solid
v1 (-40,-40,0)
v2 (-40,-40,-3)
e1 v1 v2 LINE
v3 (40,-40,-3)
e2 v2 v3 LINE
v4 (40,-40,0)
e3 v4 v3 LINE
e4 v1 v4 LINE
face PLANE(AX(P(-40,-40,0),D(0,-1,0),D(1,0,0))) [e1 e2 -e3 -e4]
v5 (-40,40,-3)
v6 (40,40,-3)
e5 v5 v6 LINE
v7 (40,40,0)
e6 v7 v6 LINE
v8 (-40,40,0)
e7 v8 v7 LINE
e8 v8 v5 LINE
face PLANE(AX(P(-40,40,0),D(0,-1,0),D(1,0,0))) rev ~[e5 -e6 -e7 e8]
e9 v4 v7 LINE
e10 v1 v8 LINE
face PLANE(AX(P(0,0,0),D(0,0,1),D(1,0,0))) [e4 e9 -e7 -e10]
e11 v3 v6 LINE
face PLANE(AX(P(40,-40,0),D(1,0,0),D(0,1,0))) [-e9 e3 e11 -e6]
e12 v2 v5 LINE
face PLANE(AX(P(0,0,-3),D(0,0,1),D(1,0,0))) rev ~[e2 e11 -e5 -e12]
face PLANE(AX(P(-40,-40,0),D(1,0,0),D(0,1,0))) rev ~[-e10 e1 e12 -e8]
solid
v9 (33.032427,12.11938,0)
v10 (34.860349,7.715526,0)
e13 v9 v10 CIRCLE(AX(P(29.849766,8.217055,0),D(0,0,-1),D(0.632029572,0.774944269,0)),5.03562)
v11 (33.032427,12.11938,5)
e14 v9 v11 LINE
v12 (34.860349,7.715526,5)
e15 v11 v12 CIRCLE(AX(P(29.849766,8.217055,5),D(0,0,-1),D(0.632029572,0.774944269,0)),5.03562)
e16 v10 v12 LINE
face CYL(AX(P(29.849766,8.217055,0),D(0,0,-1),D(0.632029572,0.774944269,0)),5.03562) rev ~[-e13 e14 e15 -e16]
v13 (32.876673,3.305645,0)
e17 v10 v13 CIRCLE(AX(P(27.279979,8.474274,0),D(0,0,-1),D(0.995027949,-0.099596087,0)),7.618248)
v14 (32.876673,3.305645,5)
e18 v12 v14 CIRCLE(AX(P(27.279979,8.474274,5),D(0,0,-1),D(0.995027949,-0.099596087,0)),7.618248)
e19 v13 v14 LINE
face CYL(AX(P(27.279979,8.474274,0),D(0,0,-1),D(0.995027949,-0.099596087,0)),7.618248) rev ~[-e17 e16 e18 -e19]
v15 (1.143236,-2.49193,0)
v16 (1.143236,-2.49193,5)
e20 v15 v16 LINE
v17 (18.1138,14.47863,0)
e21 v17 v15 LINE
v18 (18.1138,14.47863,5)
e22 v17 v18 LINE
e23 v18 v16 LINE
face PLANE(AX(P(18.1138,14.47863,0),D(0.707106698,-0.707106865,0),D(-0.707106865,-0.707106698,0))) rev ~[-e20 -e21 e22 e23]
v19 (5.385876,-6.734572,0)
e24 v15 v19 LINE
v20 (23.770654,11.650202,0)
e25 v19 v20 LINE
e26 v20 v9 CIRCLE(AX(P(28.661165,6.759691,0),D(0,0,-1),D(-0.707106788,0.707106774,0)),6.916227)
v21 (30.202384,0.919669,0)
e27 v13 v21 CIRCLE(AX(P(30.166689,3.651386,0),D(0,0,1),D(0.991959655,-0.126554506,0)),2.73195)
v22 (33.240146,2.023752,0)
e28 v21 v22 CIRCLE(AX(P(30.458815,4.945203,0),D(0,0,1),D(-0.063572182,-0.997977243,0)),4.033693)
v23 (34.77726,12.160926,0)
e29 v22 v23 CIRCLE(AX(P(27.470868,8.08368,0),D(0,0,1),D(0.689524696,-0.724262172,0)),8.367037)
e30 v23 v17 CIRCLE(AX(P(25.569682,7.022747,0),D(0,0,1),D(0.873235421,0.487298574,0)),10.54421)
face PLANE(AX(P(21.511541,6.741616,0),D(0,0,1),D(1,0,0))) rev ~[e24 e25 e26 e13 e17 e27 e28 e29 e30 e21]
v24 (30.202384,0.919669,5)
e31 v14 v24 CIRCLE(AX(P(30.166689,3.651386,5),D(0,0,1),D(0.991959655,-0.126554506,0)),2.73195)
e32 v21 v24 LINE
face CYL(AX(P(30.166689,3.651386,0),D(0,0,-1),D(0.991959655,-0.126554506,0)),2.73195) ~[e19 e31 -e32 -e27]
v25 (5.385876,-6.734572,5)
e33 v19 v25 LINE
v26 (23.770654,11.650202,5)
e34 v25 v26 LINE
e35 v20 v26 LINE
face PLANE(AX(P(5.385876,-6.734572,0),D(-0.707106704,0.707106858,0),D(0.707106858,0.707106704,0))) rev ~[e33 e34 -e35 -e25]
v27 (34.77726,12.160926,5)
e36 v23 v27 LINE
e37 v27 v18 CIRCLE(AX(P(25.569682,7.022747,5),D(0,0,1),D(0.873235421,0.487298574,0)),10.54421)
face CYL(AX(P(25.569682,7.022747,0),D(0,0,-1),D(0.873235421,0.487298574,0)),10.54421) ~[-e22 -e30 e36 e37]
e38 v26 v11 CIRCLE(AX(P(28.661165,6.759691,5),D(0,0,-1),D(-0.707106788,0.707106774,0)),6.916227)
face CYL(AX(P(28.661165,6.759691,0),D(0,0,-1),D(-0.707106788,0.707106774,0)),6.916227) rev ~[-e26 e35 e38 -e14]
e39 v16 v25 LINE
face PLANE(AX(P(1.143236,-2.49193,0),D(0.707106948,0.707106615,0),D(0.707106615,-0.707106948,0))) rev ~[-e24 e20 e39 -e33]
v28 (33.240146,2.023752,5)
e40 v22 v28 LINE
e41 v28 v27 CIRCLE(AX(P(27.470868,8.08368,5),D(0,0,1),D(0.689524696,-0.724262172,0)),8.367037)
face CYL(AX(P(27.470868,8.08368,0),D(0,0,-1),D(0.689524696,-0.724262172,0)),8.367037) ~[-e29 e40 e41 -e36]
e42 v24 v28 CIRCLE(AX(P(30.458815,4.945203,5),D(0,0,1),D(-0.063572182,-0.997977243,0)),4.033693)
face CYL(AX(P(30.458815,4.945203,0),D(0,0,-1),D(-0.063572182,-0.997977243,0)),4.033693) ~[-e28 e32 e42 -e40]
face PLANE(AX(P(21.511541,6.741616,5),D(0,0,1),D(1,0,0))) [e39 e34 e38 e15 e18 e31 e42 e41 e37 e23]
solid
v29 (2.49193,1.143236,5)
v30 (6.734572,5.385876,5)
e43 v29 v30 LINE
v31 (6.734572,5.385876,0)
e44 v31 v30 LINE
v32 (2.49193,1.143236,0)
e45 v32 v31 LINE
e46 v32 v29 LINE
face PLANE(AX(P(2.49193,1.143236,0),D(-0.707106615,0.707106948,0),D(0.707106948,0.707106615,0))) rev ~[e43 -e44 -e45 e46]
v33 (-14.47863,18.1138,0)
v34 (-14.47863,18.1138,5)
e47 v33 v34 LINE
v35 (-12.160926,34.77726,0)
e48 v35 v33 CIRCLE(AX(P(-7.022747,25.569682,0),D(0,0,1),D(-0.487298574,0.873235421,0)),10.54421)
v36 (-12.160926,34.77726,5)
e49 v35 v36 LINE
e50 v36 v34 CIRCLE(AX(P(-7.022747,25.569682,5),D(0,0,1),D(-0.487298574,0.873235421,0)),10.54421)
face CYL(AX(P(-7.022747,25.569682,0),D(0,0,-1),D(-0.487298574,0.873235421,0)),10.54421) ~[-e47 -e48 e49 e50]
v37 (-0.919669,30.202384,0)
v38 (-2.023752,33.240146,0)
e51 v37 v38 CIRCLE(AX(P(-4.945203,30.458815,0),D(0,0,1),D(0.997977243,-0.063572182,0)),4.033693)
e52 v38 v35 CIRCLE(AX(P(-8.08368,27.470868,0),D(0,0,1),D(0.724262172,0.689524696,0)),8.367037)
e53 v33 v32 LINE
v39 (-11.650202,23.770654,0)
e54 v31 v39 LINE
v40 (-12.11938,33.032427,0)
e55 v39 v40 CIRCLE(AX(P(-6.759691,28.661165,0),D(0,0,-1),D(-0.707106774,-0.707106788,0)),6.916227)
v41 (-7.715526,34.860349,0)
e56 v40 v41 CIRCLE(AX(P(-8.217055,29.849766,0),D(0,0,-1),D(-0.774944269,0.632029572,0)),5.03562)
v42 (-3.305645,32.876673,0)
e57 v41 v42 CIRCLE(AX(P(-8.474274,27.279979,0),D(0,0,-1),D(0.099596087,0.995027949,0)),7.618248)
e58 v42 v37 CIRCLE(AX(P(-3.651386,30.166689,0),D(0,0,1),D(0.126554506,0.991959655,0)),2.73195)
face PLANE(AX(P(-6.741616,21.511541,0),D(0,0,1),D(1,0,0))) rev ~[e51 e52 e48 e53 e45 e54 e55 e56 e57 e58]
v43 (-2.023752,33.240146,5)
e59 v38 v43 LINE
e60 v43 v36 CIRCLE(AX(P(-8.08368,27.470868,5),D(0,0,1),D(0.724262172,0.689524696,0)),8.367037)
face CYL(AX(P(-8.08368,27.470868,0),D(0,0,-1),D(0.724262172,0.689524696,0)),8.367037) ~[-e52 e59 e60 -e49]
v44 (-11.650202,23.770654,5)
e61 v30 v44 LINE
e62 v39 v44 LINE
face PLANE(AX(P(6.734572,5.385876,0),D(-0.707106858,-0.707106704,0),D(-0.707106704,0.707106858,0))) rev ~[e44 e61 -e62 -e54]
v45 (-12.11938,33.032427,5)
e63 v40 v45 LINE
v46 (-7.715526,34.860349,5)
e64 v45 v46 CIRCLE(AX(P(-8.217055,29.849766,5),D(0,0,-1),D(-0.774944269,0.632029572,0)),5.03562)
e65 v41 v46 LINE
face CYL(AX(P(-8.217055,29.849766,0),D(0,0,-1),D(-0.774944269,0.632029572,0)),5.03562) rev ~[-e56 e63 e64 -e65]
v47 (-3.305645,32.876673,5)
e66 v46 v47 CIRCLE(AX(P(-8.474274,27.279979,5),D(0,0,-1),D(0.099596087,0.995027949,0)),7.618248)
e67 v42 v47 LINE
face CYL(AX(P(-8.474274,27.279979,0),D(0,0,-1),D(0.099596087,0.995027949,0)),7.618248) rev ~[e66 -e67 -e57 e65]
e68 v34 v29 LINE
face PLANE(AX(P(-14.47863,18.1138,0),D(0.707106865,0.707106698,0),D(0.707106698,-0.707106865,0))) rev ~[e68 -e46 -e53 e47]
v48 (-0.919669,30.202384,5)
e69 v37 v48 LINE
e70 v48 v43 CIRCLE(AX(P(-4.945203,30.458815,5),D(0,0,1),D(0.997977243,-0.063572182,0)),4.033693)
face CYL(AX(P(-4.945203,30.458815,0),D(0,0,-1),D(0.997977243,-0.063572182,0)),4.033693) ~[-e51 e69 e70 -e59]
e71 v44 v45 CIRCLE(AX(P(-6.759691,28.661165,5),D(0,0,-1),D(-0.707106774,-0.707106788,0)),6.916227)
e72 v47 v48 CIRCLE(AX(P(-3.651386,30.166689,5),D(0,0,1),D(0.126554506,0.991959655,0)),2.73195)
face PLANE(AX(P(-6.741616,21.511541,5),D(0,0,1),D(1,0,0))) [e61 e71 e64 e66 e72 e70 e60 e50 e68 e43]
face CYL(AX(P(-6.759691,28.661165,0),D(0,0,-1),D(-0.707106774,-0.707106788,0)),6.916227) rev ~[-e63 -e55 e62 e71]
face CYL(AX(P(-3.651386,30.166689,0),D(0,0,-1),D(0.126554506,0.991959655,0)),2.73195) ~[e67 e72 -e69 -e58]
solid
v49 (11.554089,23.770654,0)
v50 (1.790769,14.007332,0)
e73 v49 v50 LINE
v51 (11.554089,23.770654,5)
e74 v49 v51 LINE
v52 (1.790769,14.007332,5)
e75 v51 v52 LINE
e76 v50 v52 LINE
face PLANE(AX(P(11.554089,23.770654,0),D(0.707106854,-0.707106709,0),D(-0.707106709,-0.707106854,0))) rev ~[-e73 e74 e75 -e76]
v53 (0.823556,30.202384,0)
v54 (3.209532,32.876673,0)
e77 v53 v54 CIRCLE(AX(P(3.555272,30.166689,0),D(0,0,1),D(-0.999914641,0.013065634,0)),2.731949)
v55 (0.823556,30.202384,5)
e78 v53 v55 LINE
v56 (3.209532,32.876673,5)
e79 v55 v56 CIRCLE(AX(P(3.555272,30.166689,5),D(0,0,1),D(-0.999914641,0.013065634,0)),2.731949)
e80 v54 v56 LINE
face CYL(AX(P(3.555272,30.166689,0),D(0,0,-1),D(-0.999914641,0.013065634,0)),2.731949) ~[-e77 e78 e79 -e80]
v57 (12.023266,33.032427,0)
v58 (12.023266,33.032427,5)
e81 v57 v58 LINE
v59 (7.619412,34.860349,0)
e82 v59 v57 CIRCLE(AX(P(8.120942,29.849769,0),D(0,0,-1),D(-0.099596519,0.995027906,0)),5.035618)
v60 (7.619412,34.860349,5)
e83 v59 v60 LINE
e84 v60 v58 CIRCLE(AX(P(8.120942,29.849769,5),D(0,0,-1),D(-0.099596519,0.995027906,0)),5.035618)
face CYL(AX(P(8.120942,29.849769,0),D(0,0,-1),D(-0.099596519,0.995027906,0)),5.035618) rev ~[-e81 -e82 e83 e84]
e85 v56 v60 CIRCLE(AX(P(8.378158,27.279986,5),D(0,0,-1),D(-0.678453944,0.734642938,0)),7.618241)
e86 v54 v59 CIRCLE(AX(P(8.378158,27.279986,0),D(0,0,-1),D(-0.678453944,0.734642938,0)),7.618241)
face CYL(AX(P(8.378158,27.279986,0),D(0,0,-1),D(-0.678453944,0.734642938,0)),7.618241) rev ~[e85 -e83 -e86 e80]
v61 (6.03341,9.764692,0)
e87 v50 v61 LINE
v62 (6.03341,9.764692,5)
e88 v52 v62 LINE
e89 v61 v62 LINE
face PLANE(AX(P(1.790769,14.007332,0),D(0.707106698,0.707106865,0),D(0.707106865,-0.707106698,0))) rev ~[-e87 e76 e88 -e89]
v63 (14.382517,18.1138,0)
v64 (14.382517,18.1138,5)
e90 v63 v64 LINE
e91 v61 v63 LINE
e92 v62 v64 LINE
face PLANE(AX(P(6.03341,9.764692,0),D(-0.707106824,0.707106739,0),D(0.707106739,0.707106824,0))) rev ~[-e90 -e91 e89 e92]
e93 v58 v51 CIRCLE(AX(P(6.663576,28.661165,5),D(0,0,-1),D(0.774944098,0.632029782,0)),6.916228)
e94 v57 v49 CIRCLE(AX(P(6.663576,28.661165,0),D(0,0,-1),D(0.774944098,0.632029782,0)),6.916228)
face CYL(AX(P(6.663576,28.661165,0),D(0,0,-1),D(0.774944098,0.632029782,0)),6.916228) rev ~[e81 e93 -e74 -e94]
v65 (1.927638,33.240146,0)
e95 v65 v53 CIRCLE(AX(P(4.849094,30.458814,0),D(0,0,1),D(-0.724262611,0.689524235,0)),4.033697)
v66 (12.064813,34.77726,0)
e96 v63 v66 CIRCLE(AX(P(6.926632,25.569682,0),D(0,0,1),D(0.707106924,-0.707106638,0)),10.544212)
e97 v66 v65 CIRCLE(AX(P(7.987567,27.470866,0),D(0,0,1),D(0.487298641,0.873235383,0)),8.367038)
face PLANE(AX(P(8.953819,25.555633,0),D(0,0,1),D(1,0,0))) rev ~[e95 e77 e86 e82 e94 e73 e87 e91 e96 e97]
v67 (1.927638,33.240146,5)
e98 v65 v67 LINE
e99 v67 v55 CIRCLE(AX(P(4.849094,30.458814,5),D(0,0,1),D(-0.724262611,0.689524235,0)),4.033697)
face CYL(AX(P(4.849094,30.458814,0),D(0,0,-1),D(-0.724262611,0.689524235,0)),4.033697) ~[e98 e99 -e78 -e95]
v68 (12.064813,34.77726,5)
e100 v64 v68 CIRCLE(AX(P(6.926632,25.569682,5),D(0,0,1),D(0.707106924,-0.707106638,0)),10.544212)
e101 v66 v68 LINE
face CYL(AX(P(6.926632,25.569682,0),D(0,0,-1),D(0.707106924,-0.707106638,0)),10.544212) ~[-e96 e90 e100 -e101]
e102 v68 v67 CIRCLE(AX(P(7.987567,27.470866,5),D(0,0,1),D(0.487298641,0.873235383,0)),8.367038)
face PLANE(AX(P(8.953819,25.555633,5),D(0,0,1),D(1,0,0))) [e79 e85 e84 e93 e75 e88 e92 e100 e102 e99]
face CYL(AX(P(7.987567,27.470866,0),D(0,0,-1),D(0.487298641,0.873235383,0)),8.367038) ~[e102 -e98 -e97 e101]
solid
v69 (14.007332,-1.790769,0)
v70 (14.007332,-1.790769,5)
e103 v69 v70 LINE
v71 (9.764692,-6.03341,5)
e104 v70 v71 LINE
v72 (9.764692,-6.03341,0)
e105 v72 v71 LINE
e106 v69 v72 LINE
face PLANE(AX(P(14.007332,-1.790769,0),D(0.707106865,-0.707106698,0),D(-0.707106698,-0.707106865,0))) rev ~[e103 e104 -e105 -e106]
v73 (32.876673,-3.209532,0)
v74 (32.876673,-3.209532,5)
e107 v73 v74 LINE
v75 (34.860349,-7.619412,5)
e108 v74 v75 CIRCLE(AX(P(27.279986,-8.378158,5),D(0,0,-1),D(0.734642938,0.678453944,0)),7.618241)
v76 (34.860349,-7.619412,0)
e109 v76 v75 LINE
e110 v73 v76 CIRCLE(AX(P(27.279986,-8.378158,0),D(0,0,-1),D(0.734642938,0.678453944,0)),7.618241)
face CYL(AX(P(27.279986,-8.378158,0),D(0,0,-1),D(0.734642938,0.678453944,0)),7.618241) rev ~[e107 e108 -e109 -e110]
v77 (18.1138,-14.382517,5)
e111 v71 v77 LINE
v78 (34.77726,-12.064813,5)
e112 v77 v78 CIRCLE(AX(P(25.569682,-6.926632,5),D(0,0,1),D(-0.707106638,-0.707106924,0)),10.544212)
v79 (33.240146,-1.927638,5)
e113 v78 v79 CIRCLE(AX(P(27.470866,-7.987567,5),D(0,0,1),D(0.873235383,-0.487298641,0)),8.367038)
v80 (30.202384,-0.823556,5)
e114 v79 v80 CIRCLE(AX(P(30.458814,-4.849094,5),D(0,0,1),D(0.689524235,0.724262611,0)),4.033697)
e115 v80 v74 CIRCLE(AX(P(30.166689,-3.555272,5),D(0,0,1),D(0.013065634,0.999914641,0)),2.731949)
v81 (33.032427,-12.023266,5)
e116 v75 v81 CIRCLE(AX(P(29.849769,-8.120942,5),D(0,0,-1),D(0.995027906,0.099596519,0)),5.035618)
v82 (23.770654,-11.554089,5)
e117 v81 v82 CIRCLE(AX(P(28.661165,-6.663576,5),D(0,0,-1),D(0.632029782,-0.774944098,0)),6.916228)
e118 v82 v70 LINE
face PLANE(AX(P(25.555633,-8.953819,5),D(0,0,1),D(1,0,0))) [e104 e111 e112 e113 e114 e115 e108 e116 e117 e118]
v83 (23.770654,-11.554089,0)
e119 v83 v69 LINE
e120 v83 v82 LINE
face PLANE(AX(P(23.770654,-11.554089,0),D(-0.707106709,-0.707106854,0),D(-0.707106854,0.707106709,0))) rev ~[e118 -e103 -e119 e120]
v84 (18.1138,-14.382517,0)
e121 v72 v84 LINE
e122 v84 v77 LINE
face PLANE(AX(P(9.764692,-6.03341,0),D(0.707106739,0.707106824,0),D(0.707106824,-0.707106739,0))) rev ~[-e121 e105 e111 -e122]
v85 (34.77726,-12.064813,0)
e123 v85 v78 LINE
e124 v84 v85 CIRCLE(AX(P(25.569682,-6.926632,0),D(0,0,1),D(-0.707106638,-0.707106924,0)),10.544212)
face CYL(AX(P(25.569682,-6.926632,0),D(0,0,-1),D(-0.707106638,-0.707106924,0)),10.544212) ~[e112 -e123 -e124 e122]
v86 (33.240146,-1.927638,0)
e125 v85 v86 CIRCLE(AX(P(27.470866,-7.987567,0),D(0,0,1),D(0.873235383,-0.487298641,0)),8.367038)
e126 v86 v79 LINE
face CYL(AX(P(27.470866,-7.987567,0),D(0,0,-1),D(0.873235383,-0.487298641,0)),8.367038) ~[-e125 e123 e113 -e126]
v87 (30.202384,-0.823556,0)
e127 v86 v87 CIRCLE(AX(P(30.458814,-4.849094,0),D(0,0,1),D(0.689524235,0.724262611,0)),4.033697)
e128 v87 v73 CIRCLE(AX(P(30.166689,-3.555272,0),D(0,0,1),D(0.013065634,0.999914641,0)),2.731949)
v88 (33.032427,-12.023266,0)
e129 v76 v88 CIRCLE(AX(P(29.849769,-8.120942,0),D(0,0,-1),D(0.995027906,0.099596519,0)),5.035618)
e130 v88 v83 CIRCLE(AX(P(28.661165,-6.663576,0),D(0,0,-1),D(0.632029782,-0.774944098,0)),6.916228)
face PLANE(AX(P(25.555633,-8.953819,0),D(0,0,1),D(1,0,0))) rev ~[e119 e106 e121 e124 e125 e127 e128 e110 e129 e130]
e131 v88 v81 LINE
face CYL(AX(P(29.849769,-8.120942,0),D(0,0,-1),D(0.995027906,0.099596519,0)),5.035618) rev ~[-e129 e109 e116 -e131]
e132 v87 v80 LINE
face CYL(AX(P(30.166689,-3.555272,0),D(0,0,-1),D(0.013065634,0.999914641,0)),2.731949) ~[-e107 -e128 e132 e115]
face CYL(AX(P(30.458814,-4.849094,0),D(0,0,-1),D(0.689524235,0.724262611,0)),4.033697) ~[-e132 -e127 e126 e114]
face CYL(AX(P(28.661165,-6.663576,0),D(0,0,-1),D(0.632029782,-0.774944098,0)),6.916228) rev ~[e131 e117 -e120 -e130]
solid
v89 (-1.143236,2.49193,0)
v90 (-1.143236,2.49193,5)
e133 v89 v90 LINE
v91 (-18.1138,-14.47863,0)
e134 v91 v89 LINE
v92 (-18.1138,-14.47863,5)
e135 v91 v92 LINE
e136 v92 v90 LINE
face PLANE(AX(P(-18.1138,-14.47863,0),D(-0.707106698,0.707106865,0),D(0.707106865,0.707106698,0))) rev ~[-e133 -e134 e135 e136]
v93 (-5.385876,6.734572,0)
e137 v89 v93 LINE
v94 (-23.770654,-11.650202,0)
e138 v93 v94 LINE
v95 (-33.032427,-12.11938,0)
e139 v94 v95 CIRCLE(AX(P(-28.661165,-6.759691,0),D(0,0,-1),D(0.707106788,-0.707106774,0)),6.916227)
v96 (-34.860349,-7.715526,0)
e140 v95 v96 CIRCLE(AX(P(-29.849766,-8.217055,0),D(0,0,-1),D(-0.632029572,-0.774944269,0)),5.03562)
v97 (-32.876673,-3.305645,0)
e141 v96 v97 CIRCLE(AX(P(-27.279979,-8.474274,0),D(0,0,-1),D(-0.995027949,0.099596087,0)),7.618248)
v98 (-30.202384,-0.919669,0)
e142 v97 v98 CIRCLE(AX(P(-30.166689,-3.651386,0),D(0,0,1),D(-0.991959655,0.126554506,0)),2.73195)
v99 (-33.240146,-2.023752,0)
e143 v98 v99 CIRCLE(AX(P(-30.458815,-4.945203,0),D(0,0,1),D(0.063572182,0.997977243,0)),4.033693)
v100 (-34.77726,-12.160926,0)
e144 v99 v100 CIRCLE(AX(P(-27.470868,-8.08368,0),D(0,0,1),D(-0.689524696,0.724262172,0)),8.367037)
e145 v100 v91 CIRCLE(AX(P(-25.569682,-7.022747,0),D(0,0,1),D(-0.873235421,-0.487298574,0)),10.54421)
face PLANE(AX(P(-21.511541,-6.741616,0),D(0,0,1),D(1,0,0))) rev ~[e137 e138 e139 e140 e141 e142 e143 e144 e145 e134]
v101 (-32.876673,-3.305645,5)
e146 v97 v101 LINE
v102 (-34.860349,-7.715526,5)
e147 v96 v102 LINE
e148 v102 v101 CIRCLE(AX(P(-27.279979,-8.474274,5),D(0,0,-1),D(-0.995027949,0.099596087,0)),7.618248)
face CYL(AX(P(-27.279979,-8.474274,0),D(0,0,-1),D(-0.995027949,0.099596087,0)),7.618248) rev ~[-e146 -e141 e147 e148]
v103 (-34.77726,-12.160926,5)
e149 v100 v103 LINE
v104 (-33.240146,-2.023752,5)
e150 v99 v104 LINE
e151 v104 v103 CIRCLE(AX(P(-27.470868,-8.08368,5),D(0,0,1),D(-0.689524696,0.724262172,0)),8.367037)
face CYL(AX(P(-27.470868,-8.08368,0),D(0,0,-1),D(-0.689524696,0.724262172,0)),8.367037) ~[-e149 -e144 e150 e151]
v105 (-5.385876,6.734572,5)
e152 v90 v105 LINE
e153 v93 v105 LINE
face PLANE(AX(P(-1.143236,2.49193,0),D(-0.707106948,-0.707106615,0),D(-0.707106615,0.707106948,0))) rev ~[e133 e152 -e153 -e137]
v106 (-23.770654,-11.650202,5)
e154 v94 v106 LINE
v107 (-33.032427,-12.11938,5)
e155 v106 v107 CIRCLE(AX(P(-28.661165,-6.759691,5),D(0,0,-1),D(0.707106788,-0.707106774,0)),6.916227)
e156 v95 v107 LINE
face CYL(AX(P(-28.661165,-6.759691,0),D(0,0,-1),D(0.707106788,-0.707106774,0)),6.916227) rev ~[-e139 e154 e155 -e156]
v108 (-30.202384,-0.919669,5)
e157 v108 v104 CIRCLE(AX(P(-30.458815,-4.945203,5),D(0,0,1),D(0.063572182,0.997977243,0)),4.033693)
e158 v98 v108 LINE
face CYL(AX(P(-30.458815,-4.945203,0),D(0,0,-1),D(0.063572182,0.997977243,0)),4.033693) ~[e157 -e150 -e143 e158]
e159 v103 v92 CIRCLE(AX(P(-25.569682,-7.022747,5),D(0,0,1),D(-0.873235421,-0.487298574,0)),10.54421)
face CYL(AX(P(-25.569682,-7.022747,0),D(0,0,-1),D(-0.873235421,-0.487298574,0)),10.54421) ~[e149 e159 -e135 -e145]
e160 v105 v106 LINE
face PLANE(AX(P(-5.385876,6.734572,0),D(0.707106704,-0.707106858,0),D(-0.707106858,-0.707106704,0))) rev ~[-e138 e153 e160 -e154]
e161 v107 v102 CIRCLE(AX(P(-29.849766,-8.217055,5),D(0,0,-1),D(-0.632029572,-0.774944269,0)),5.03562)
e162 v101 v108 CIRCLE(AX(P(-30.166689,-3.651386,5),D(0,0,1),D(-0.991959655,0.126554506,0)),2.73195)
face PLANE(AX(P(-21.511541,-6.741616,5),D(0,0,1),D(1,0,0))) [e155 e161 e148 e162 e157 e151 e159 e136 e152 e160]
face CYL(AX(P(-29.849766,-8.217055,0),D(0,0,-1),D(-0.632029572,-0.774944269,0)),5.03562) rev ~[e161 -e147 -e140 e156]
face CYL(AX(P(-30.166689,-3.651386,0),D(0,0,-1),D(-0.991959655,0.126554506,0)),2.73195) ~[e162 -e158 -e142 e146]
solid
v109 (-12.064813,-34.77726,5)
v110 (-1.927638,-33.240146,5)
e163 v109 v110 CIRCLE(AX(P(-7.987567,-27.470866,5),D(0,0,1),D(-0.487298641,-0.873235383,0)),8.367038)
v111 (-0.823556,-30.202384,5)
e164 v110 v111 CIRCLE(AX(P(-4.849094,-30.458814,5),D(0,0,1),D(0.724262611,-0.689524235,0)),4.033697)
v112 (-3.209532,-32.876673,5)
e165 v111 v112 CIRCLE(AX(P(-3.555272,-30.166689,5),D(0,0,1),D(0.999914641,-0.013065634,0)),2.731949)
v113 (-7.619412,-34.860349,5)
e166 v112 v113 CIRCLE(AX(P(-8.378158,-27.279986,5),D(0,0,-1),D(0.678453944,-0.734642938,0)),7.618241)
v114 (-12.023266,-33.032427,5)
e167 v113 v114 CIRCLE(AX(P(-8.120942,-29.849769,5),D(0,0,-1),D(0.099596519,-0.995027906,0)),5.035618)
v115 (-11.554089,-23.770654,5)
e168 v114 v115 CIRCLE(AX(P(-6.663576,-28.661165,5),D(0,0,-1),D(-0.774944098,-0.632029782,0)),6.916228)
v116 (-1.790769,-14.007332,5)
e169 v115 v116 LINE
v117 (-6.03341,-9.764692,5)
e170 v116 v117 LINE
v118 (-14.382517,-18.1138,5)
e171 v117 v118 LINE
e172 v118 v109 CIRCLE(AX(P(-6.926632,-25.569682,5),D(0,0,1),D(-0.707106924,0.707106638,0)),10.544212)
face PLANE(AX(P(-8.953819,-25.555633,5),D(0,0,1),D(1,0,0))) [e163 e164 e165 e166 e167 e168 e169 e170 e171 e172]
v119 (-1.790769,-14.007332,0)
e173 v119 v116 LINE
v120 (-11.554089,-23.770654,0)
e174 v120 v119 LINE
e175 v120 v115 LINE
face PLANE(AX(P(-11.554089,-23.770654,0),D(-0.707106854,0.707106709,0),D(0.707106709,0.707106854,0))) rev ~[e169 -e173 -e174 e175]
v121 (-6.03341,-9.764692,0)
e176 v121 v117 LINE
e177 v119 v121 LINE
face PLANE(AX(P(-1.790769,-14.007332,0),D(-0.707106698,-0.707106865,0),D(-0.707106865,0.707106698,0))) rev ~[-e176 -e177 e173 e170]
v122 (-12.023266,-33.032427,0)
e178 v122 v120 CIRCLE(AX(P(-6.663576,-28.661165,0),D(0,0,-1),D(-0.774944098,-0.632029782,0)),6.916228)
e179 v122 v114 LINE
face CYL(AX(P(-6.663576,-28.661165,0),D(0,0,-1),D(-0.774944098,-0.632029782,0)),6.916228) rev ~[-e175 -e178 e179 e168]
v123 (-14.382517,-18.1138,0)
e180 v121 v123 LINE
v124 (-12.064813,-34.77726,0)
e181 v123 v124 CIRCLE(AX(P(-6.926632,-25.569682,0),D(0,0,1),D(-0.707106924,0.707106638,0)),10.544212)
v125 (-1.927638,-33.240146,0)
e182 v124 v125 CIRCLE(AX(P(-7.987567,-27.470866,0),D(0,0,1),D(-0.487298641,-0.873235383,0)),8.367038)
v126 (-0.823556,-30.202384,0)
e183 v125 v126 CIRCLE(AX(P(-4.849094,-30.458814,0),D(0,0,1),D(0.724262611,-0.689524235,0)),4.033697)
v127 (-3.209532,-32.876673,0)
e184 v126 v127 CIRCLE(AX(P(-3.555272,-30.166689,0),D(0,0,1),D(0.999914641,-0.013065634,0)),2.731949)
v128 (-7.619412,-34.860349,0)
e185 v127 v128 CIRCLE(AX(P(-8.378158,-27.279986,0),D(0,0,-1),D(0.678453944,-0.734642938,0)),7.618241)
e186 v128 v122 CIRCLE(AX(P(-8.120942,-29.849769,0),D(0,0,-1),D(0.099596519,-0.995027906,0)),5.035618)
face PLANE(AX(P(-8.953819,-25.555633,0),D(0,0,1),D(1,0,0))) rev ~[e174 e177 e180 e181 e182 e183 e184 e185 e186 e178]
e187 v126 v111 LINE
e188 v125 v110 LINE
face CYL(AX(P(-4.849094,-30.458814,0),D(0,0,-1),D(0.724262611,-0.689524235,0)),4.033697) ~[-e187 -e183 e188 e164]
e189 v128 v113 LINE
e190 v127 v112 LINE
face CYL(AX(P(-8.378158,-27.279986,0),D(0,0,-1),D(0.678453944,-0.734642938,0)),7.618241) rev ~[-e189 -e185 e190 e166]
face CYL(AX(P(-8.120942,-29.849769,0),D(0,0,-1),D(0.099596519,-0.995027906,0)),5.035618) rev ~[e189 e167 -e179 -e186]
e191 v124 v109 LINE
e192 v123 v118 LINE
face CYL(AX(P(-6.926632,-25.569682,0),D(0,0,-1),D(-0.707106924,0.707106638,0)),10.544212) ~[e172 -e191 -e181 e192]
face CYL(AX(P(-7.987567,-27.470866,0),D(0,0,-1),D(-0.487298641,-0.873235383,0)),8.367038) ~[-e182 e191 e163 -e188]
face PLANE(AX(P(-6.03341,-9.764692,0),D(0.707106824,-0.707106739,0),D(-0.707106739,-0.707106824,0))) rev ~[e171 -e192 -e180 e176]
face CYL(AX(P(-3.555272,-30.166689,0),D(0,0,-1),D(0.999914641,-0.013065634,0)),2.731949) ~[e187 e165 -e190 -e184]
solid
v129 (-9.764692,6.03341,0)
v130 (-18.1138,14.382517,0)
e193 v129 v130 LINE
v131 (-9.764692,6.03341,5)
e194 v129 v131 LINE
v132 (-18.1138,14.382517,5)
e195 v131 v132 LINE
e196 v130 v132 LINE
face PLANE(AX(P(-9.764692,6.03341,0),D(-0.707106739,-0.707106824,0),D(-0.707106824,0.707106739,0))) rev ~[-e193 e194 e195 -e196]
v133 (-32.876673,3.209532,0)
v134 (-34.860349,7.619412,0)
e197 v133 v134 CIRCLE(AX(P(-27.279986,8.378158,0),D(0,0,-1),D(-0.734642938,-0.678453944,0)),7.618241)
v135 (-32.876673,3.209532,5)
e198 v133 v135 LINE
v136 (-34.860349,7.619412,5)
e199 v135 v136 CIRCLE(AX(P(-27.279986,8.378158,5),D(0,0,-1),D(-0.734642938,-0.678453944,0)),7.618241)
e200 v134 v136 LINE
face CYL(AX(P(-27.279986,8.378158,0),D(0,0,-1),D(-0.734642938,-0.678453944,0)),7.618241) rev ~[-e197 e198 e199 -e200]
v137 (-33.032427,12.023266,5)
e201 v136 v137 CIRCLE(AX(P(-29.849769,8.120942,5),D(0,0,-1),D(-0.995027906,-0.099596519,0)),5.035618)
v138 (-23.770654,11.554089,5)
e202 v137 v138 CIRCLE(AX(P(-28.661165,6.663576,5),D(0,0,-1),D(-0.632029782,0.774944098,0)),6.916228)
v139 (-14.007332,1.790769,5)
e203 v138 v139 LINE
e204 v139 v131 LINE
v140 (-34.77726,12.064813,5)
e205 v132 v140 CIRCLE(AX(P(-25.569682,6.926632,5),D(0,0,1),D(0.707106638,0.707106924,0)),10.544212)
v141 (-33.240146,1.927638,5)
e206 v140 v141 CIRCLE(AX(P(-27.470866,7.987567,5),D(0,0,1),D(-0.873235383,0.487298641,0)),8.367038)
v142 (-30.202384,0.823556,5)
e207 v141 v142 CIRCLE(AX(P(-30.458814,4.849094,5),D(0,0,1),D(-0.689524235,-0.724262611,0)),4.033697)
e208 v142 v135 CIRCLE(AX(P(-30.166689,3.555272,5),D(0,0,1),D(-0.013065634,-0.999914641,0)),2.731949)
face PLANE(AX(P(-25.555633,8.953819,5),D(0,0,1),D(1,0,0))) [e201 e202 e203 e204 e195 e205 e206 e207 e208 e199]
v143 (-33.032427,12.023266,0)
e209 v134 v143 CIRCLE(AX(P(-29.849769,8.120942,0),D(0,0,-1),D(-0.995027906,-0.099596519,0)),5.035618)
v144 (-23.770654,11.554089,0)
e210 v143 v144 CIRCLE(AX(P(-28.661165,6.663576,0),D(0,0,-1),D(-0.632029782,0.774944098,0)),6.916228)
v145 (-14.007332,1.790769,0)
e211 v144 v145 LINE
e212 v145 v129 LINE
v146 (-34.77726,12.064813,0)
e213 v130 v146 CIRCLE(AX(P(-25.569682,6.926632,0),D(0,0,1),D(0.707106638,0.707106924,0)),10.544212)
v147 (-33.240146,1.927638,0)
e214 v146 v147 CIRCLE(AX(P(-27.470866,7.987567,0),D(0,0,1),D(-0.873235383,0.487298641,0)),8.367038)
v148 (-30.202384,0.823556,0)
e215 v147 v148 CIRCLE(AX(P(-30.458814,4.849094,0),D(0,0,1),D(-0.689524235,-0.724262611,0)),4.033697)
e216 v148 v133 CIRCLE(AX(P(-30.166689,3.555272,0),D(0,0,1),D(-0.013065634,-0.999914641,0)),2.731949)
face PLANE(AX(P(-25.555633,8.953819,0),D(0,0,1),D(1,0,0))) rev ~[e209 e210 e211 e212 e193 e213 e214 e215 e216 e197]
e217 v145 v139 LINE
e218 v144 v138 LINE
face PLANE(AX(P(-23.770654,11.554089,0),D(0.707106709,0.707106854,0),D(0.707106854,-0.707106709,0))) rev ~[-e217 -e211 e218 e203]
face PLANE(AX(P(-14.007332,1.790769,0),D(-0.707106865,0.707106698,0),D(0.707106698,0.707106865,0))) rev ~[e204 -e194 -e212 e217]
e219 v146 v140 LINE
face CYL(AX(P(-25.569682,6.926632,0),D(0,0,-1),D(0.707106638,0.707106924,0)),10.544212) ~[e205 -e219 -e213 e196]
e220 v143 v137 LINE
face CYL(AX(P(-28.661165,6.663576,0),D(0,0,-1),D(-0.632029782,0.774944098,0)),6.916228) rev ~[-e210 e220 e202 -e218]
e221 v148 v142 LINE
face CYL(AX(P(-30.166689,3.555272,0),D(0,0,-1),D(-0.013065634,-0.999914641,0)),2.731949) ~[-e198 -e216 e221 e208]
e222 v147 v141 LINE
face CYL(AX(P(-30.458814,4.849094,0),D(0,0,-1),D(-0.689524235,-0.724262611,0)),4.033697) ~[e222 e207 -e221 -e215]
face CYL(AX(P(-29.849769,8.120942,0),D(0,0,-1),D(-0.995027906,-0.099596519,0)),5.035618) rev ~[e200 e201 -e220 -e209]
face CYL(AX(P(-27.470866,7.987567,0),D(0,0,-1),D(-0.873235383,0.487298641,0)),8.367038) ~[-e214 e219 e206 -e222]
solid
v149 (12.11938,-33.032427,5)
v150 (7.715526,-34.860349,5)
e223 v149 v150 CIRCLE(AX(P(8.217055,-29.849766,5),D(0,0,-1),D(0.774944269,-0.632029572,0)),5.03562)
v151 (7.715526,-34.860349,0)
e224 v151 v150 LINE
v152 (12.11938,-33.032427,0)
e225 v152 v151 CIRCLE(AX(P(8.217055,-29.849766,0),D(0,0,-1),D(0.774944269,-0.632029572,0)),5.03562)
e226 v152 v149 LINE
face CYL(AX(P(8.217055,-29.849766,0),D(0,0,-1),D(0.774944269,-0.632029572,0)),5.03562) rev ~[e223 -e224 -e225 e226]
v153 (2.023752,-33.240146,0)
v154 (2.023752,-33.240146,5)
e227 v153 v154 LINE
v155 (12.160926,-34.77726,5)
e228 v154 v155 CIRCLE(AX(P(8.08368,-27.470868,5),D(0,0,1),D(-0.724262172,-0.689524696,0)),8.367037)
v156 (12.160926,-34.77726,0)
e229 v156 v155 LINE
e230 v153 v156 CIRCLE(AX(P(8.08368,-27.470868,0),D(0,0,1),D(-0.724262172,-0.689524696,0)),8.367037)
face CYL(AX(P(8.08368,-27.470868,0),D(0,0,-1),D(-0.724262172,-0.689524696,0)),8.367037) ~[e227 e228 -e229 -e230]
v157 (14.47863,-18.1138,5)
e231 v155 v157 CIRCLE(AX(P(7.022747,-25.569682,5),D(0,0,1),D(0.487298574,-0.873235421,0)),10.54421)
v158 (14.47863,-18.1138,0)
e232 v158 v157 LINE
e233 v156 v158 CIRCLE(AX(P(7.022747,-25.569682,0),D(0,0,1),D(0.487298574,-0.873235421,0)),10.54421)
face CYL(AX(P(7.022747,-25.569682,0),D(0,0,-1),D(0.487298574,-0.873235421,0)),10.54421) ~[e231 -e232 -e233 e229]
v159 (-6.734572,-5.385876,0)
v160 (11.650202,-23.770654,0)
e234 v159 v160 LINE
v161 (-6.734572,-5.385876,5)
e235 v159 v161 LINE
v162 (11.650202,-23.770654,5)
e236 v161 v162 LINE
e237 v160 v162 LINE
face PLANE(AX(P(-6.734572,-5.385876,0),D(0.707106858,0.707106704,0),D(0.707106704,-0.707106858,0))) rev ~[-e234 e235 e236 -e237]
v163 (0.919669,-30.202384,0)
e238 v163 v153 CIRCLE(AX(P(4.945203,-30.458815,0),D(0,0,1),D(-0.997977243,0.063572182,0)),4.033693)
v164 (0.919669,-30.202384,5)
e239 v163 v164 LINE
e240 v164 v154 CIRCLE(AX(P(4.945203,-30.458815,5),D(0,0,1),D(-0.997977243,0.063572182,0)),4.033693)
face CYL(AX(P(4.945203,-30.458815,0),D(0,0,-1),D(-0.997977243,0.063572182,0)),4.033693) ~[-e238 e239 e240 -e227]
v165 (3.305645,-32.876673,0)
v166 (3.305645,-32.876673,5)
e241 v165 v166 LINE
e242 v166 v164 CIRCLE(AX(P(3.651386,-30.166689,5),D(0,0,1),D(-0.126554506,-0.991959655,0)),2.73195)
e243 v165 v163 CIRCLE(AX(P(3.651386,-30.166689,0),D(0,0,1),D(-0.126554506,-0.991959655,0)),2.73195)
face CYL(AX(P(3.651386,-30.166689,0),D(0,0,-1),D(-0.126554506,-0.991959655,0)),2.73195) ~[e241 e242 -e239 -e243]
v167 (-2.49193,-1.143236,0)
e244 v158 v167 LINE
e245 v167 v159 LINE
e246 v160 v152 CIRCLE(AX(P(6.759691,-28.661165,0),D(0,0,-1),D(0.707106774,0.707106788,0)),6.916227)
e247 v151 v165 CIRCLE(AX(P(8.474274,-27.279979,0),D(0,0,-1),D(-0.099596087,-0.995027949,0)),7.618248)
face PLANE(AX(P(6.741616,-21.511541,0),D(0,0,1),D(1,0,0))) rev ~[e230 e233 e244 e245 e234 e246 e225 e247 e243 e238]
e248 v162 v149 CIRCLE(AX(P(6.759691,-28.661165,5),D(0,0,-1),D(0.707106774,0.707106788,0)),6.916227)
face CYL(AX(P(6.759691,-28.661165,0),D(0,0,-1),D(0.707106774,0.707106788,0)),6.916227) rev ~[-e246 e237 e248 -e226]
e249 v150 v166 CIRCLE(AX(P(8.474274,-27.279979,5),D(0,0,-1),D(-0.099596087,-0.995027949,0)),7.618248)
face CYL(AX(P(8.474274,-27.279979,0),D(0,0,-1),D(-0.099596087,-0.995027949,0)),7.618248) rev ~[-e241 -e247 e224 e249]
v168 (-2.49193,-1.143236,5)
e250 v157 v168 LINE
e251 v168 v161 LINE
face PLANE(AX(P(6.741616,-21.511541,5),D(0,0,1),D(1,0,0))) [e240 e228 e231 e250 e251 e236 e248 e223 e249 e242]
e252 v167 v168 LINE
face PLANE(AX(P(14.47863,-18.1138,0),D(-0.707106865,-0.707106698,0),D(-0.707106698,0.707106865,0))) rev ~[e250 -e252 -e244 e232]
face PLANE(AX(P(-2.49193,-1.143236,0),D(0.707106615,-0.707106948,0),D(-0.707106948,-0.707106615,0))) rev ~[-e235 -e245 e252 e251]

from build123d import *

# Parameters (mm, degrees)
F1_DEPTH = 5
F2_W     = 80
F2_H     = 80
F3_DEPTH = 3


with BuildPart() as f1:
    # F0 (on Top) → F1 (new body)
    with BuildSketch(Plane.XY):
        with BuildLine():
            ThreePointArc((-33.032427, 12.023266), (-28.311256, 13.570947), (-23.770654, 11.554089))
            Line((-23.770654, 11.554089), (-14.007332, 1.790769))
            Line((-14.007332, 1.790769), (-9.764692, 6.03341))
            Line((-9.764692, 6.03341), (-18.1138, 14.382517))
            ThreePointArc((-18.1138, 14.382517), (-27.022283, 17.370307), (-34.77726, 12.064813))
            ThreePointArc((-34.77726, 12.064813), (-35.743344, 6.733199), (-33.240146, 1.927638))
            ThreePointArc((-33.240146, 1.927638), (-31.836686, 1.058028), (-30.202384, 0.823556))
            ThreePointArc((-30.202384, 0.823556), (-28.347924, 5.593811), (-32.876673, 3.209532))
            ThreePointArc((-32.876673, 3.209532), (-34.227678, 5.25291), (-34.860349, 7.619412))
            ThreePointArc((-34.860349, 7.619412), (-34.500658, 10.051402), (-33.032427, 12.023266))
        make_face()
        with BuildLine():
            Line((-18.1138, -14.47863), (-1.143236, 2.49193))
            Line((-1.143236, 2.49193), (-5.385876, 6.734572))
            Line((-5.385876, 6.734572), (-23.770654, -11.650202))
            ThreePointArc((-23.770654, -11.650202), (-28.311256, -13.667061), (-33.032427, -12.11938))
            ThreePointArc((-33.032427, -12.11938), (-34.500658, -10.147515), (-34.860349, -7.715526))
            ThreePointArc((-34.860349, -7.715526), (-34.227678, -5.349024), (-32.876673, -3.305645))
            ThreePointArc((-32.876673, -3.305645), (-28.347924, -5.689925), (-30.202384, -0.919669))
            ThreePointArc((-30.202384, -0.919669), (-31.836686, -1.154141), (-33.240146, -2.023752))
            ThreePointArc((-33.240146, -2.023752), (-35.743344, -6.829313), (-34.77726, -12.160926))
            ThreePointArc((-34.77726, -12.160926), (-27.022283, -17.466421), (-18.1138, -14.47863))
        make_face()
        with BuildLine():
            ThreePointArc((-12.023266, -33.032427), (-13.570947, -28.311256), (-11.554089, -23.770654))
            Line((-11.554089, -23.770654), (-1.790769, -14.007332))
            Line((-1.790769, -14.007332), (-6.03341, -9.764692))
            Line((-6.03341, -9.764692), (-14.382517, -18.1138))
            ThreePointArc((-14.382517, -18.1138), (-17.370307, -27.022283), (-12.064813, -34.77726))
            ThreePointArc((-12.064813, -34.77726), (-6.733199, -35.743344), (-1.927638, -33.240146))
            ThreePointArc((-1.927638, -33.240146), (-1.058028, -31.836686), (-0.823556, -30.202384))
            ThreePointArc((-0.823556, -30.202384), (-5.593811, -28.347924), (-3.209532, -32.876673))
            ThreePointArc((-3.209532, -32.876673), (-5.25291, -34.227678), (-7.619412, -34.860349))
            ThreePointArc((-7.619412, -34.860349), (-10.051402, -34.500658), (-12.023266, -33.032427))
        make_face()
        with BuildLine():
            Line((14.47863, -18.1138), (-2.49193, -1.143236))
            Line((-2.49193, -1.143236), (-6.734572, -5.385876))
            Line((-6.734572, -5.385876), (11.650202, -23.770654))
            ThreePointArc((11.650202, -23.770654), (13.667061, -28.311256), (12.11938, -33.032427))
            ThreePointArc((12.11938, -33.032427), (10.147515, -34.500658), (7.715526, -34.860349))
            ThreePointArc((7.715526, -34.860349), (5.349024, -34.227678), (3.305645, -32.876673))
            ThreePointArc((3.305645, -32.876673), (5.689925, -28.347924), (0.919669, -30.202384))
            ThreePointArc((0.919669, -30.202384), (1.154141, -31.836686), (2.023752, -33.240146))
            ThreePointArc((2.023752, -33.240146), (6.829313, -35.743344), (12.160926, -34.77726))
            ThreePointArc((12.160926, -34.77726), (17.466421, -27.022283), (14.47863, -18.1138))
        make_face()
        with BuildLine():
            ThreePointArc((33.032427, -12.023266), (28.311256, -13.570947), (23.770654, -11.554089))
            Line((23.770654, -11.554089), (14.007332, -1.790769))
            Line((14.007332, -1.790769), (9.764692, -6.03341))
            Line((9.764692, -6.03341), (18.1138, -14.382517))
            ThreePointArc((18.1138, -14.382517), (27.022283, -17.370307), (34.77726, -12.064813))
            ThreePointArc((34.77726, -12.064813), (35.743344, -6.733199), (33.240146, -1.927638))
            ThreePointArc((33.240146, -1.927638), (31.836686, -1.058028), (30.202384, -0.823556))
            ThreePointArc((30.202384, -0.823556), (28.347924, -5.593811), (32.876673, -3.209532))
            ThreePointArc((32.876673, -3.209532), (34.227678, -5.25291), (34.860349, -7.619412))
            ThreePointArc((34.860349, -7.619412), (34.500658, -10.051402), (33.032427, -12.023266))
        make_face()
        with BuildLine():
            Line((18.1138, 14.47863), (1.143236, -2.49193))
            Line((1.143236, -2.49193), (5.385876, -6.734572))
            Line((5.385876, -6.734572), (23.770654, 11.650202))
            ThreePointArc((23.770654, 11.650202), (28.311256, 13.667061), (33.032427, 12.11938))
            ThreePointArc((33.032427, 12.11938), (34.500658, 10.147515), (34.860349, 7.715526))
            ThreePointArc((34.860349, 7.715526), (34.227678, 5.349024), (32.876673, 3.305645))
            ThreePointArc((32.876673, 3.305645), (28.347924, 5.689925), (30.202384, 0.919669))
            ThreePointArc((30.202384, 0.919669), (31.836686, 1.154141), (33.240146, 2.023752))
            ThreePointArc((33.240146, 2.023752), (35.743344, 6.829313), (34.77726, 12.160926))
            ThreePointArc((34.77726, 12.160926), (27.022283, 17.466421), (18.1138, 14.47863))
        make_face()
        with BuildLine():
            ThreePointArc((12.023266, 33.032427), (13.570947, 28.311256), (11.554089, 23.770654))
            Line((11.554089, 23.770654), (1.790769, 14.007332))
            Line((1.790769, 14.007332), (6.03341, 9.764692))
            Line((6.03341, 9.764692), (14.382517, 18.1138))
            ThreePointArc((14.382517, 18.1138), (17.370307, 27.022283), (12.064813, 34.77726))
            ThreePointArc((12.064813, 34.77726), (6.733199, 35.743344), (1.927638, 33.240146))
            ThreePointArc((1.927638, 33.240146), (1.058028, 31.836686), (0.823556, 30.202384))
            ThreePointArc((0.823556, 30.202384), (5.593811, 28.347924), (3.209532, 32.876673))
            ThreePointArc((3.209532, 32.876673), (5.25291, 34.227678), (7.619412, 34.860349))
            ThreePointArc((7.619412, 34.860349), (10.051402, 34.500658), (12.023266, 33.032427))
        make_face()
        with BuildLine():
            Line((-14.47863, 18.1138), (2.49193, 1.143236))
            Line((2.49193, 1.143236), (6.734572, 5.385876))
            Line((6.734572, 5.385876), (-11.650202, 23.770654))
            ThreePointArc((-11.650202, 23.770654), (-13.667061, 28.311256), (-12.11938, 33.032427))
            ThreePointArc((-12.11938, 33.032427), (-10.147515, 34.500658), (-7.715526, 34.860349))
            ThreePointArc((-7.715526, 34.860349), (-5.349024, 34.227678), (-3.305645, 32.876673))
            ThreePointArc((-3.305645, 32.876673), (-5.689925, 28.347924), (-0.919669, 30.202384))
            ThreePointArc((-0.919669, 30.202384), (-1.154141, 31.836686), (-2.023752, 33.240146))
            ThreePointArc((-2.023752, 33.240146), (-6.829313, 35.743344), (-12.160926, 34.77726))
            ThreePointArc((-12.160926, 34.77726), (-17.466421, 27.022283), (-14.47863, 18.1138))
        make_face()
    extrude(amount=F1_DEPTH)


with BuildPart() as f3:
    # F2 (on Top) → F3 (new body)
    with BuildSketch(Plane.XY):
        Rectangle(F2_W, F2_H)
    extrude(amount=-F3_DEPTH)


solid = Compound([f1.part, f3.part])
